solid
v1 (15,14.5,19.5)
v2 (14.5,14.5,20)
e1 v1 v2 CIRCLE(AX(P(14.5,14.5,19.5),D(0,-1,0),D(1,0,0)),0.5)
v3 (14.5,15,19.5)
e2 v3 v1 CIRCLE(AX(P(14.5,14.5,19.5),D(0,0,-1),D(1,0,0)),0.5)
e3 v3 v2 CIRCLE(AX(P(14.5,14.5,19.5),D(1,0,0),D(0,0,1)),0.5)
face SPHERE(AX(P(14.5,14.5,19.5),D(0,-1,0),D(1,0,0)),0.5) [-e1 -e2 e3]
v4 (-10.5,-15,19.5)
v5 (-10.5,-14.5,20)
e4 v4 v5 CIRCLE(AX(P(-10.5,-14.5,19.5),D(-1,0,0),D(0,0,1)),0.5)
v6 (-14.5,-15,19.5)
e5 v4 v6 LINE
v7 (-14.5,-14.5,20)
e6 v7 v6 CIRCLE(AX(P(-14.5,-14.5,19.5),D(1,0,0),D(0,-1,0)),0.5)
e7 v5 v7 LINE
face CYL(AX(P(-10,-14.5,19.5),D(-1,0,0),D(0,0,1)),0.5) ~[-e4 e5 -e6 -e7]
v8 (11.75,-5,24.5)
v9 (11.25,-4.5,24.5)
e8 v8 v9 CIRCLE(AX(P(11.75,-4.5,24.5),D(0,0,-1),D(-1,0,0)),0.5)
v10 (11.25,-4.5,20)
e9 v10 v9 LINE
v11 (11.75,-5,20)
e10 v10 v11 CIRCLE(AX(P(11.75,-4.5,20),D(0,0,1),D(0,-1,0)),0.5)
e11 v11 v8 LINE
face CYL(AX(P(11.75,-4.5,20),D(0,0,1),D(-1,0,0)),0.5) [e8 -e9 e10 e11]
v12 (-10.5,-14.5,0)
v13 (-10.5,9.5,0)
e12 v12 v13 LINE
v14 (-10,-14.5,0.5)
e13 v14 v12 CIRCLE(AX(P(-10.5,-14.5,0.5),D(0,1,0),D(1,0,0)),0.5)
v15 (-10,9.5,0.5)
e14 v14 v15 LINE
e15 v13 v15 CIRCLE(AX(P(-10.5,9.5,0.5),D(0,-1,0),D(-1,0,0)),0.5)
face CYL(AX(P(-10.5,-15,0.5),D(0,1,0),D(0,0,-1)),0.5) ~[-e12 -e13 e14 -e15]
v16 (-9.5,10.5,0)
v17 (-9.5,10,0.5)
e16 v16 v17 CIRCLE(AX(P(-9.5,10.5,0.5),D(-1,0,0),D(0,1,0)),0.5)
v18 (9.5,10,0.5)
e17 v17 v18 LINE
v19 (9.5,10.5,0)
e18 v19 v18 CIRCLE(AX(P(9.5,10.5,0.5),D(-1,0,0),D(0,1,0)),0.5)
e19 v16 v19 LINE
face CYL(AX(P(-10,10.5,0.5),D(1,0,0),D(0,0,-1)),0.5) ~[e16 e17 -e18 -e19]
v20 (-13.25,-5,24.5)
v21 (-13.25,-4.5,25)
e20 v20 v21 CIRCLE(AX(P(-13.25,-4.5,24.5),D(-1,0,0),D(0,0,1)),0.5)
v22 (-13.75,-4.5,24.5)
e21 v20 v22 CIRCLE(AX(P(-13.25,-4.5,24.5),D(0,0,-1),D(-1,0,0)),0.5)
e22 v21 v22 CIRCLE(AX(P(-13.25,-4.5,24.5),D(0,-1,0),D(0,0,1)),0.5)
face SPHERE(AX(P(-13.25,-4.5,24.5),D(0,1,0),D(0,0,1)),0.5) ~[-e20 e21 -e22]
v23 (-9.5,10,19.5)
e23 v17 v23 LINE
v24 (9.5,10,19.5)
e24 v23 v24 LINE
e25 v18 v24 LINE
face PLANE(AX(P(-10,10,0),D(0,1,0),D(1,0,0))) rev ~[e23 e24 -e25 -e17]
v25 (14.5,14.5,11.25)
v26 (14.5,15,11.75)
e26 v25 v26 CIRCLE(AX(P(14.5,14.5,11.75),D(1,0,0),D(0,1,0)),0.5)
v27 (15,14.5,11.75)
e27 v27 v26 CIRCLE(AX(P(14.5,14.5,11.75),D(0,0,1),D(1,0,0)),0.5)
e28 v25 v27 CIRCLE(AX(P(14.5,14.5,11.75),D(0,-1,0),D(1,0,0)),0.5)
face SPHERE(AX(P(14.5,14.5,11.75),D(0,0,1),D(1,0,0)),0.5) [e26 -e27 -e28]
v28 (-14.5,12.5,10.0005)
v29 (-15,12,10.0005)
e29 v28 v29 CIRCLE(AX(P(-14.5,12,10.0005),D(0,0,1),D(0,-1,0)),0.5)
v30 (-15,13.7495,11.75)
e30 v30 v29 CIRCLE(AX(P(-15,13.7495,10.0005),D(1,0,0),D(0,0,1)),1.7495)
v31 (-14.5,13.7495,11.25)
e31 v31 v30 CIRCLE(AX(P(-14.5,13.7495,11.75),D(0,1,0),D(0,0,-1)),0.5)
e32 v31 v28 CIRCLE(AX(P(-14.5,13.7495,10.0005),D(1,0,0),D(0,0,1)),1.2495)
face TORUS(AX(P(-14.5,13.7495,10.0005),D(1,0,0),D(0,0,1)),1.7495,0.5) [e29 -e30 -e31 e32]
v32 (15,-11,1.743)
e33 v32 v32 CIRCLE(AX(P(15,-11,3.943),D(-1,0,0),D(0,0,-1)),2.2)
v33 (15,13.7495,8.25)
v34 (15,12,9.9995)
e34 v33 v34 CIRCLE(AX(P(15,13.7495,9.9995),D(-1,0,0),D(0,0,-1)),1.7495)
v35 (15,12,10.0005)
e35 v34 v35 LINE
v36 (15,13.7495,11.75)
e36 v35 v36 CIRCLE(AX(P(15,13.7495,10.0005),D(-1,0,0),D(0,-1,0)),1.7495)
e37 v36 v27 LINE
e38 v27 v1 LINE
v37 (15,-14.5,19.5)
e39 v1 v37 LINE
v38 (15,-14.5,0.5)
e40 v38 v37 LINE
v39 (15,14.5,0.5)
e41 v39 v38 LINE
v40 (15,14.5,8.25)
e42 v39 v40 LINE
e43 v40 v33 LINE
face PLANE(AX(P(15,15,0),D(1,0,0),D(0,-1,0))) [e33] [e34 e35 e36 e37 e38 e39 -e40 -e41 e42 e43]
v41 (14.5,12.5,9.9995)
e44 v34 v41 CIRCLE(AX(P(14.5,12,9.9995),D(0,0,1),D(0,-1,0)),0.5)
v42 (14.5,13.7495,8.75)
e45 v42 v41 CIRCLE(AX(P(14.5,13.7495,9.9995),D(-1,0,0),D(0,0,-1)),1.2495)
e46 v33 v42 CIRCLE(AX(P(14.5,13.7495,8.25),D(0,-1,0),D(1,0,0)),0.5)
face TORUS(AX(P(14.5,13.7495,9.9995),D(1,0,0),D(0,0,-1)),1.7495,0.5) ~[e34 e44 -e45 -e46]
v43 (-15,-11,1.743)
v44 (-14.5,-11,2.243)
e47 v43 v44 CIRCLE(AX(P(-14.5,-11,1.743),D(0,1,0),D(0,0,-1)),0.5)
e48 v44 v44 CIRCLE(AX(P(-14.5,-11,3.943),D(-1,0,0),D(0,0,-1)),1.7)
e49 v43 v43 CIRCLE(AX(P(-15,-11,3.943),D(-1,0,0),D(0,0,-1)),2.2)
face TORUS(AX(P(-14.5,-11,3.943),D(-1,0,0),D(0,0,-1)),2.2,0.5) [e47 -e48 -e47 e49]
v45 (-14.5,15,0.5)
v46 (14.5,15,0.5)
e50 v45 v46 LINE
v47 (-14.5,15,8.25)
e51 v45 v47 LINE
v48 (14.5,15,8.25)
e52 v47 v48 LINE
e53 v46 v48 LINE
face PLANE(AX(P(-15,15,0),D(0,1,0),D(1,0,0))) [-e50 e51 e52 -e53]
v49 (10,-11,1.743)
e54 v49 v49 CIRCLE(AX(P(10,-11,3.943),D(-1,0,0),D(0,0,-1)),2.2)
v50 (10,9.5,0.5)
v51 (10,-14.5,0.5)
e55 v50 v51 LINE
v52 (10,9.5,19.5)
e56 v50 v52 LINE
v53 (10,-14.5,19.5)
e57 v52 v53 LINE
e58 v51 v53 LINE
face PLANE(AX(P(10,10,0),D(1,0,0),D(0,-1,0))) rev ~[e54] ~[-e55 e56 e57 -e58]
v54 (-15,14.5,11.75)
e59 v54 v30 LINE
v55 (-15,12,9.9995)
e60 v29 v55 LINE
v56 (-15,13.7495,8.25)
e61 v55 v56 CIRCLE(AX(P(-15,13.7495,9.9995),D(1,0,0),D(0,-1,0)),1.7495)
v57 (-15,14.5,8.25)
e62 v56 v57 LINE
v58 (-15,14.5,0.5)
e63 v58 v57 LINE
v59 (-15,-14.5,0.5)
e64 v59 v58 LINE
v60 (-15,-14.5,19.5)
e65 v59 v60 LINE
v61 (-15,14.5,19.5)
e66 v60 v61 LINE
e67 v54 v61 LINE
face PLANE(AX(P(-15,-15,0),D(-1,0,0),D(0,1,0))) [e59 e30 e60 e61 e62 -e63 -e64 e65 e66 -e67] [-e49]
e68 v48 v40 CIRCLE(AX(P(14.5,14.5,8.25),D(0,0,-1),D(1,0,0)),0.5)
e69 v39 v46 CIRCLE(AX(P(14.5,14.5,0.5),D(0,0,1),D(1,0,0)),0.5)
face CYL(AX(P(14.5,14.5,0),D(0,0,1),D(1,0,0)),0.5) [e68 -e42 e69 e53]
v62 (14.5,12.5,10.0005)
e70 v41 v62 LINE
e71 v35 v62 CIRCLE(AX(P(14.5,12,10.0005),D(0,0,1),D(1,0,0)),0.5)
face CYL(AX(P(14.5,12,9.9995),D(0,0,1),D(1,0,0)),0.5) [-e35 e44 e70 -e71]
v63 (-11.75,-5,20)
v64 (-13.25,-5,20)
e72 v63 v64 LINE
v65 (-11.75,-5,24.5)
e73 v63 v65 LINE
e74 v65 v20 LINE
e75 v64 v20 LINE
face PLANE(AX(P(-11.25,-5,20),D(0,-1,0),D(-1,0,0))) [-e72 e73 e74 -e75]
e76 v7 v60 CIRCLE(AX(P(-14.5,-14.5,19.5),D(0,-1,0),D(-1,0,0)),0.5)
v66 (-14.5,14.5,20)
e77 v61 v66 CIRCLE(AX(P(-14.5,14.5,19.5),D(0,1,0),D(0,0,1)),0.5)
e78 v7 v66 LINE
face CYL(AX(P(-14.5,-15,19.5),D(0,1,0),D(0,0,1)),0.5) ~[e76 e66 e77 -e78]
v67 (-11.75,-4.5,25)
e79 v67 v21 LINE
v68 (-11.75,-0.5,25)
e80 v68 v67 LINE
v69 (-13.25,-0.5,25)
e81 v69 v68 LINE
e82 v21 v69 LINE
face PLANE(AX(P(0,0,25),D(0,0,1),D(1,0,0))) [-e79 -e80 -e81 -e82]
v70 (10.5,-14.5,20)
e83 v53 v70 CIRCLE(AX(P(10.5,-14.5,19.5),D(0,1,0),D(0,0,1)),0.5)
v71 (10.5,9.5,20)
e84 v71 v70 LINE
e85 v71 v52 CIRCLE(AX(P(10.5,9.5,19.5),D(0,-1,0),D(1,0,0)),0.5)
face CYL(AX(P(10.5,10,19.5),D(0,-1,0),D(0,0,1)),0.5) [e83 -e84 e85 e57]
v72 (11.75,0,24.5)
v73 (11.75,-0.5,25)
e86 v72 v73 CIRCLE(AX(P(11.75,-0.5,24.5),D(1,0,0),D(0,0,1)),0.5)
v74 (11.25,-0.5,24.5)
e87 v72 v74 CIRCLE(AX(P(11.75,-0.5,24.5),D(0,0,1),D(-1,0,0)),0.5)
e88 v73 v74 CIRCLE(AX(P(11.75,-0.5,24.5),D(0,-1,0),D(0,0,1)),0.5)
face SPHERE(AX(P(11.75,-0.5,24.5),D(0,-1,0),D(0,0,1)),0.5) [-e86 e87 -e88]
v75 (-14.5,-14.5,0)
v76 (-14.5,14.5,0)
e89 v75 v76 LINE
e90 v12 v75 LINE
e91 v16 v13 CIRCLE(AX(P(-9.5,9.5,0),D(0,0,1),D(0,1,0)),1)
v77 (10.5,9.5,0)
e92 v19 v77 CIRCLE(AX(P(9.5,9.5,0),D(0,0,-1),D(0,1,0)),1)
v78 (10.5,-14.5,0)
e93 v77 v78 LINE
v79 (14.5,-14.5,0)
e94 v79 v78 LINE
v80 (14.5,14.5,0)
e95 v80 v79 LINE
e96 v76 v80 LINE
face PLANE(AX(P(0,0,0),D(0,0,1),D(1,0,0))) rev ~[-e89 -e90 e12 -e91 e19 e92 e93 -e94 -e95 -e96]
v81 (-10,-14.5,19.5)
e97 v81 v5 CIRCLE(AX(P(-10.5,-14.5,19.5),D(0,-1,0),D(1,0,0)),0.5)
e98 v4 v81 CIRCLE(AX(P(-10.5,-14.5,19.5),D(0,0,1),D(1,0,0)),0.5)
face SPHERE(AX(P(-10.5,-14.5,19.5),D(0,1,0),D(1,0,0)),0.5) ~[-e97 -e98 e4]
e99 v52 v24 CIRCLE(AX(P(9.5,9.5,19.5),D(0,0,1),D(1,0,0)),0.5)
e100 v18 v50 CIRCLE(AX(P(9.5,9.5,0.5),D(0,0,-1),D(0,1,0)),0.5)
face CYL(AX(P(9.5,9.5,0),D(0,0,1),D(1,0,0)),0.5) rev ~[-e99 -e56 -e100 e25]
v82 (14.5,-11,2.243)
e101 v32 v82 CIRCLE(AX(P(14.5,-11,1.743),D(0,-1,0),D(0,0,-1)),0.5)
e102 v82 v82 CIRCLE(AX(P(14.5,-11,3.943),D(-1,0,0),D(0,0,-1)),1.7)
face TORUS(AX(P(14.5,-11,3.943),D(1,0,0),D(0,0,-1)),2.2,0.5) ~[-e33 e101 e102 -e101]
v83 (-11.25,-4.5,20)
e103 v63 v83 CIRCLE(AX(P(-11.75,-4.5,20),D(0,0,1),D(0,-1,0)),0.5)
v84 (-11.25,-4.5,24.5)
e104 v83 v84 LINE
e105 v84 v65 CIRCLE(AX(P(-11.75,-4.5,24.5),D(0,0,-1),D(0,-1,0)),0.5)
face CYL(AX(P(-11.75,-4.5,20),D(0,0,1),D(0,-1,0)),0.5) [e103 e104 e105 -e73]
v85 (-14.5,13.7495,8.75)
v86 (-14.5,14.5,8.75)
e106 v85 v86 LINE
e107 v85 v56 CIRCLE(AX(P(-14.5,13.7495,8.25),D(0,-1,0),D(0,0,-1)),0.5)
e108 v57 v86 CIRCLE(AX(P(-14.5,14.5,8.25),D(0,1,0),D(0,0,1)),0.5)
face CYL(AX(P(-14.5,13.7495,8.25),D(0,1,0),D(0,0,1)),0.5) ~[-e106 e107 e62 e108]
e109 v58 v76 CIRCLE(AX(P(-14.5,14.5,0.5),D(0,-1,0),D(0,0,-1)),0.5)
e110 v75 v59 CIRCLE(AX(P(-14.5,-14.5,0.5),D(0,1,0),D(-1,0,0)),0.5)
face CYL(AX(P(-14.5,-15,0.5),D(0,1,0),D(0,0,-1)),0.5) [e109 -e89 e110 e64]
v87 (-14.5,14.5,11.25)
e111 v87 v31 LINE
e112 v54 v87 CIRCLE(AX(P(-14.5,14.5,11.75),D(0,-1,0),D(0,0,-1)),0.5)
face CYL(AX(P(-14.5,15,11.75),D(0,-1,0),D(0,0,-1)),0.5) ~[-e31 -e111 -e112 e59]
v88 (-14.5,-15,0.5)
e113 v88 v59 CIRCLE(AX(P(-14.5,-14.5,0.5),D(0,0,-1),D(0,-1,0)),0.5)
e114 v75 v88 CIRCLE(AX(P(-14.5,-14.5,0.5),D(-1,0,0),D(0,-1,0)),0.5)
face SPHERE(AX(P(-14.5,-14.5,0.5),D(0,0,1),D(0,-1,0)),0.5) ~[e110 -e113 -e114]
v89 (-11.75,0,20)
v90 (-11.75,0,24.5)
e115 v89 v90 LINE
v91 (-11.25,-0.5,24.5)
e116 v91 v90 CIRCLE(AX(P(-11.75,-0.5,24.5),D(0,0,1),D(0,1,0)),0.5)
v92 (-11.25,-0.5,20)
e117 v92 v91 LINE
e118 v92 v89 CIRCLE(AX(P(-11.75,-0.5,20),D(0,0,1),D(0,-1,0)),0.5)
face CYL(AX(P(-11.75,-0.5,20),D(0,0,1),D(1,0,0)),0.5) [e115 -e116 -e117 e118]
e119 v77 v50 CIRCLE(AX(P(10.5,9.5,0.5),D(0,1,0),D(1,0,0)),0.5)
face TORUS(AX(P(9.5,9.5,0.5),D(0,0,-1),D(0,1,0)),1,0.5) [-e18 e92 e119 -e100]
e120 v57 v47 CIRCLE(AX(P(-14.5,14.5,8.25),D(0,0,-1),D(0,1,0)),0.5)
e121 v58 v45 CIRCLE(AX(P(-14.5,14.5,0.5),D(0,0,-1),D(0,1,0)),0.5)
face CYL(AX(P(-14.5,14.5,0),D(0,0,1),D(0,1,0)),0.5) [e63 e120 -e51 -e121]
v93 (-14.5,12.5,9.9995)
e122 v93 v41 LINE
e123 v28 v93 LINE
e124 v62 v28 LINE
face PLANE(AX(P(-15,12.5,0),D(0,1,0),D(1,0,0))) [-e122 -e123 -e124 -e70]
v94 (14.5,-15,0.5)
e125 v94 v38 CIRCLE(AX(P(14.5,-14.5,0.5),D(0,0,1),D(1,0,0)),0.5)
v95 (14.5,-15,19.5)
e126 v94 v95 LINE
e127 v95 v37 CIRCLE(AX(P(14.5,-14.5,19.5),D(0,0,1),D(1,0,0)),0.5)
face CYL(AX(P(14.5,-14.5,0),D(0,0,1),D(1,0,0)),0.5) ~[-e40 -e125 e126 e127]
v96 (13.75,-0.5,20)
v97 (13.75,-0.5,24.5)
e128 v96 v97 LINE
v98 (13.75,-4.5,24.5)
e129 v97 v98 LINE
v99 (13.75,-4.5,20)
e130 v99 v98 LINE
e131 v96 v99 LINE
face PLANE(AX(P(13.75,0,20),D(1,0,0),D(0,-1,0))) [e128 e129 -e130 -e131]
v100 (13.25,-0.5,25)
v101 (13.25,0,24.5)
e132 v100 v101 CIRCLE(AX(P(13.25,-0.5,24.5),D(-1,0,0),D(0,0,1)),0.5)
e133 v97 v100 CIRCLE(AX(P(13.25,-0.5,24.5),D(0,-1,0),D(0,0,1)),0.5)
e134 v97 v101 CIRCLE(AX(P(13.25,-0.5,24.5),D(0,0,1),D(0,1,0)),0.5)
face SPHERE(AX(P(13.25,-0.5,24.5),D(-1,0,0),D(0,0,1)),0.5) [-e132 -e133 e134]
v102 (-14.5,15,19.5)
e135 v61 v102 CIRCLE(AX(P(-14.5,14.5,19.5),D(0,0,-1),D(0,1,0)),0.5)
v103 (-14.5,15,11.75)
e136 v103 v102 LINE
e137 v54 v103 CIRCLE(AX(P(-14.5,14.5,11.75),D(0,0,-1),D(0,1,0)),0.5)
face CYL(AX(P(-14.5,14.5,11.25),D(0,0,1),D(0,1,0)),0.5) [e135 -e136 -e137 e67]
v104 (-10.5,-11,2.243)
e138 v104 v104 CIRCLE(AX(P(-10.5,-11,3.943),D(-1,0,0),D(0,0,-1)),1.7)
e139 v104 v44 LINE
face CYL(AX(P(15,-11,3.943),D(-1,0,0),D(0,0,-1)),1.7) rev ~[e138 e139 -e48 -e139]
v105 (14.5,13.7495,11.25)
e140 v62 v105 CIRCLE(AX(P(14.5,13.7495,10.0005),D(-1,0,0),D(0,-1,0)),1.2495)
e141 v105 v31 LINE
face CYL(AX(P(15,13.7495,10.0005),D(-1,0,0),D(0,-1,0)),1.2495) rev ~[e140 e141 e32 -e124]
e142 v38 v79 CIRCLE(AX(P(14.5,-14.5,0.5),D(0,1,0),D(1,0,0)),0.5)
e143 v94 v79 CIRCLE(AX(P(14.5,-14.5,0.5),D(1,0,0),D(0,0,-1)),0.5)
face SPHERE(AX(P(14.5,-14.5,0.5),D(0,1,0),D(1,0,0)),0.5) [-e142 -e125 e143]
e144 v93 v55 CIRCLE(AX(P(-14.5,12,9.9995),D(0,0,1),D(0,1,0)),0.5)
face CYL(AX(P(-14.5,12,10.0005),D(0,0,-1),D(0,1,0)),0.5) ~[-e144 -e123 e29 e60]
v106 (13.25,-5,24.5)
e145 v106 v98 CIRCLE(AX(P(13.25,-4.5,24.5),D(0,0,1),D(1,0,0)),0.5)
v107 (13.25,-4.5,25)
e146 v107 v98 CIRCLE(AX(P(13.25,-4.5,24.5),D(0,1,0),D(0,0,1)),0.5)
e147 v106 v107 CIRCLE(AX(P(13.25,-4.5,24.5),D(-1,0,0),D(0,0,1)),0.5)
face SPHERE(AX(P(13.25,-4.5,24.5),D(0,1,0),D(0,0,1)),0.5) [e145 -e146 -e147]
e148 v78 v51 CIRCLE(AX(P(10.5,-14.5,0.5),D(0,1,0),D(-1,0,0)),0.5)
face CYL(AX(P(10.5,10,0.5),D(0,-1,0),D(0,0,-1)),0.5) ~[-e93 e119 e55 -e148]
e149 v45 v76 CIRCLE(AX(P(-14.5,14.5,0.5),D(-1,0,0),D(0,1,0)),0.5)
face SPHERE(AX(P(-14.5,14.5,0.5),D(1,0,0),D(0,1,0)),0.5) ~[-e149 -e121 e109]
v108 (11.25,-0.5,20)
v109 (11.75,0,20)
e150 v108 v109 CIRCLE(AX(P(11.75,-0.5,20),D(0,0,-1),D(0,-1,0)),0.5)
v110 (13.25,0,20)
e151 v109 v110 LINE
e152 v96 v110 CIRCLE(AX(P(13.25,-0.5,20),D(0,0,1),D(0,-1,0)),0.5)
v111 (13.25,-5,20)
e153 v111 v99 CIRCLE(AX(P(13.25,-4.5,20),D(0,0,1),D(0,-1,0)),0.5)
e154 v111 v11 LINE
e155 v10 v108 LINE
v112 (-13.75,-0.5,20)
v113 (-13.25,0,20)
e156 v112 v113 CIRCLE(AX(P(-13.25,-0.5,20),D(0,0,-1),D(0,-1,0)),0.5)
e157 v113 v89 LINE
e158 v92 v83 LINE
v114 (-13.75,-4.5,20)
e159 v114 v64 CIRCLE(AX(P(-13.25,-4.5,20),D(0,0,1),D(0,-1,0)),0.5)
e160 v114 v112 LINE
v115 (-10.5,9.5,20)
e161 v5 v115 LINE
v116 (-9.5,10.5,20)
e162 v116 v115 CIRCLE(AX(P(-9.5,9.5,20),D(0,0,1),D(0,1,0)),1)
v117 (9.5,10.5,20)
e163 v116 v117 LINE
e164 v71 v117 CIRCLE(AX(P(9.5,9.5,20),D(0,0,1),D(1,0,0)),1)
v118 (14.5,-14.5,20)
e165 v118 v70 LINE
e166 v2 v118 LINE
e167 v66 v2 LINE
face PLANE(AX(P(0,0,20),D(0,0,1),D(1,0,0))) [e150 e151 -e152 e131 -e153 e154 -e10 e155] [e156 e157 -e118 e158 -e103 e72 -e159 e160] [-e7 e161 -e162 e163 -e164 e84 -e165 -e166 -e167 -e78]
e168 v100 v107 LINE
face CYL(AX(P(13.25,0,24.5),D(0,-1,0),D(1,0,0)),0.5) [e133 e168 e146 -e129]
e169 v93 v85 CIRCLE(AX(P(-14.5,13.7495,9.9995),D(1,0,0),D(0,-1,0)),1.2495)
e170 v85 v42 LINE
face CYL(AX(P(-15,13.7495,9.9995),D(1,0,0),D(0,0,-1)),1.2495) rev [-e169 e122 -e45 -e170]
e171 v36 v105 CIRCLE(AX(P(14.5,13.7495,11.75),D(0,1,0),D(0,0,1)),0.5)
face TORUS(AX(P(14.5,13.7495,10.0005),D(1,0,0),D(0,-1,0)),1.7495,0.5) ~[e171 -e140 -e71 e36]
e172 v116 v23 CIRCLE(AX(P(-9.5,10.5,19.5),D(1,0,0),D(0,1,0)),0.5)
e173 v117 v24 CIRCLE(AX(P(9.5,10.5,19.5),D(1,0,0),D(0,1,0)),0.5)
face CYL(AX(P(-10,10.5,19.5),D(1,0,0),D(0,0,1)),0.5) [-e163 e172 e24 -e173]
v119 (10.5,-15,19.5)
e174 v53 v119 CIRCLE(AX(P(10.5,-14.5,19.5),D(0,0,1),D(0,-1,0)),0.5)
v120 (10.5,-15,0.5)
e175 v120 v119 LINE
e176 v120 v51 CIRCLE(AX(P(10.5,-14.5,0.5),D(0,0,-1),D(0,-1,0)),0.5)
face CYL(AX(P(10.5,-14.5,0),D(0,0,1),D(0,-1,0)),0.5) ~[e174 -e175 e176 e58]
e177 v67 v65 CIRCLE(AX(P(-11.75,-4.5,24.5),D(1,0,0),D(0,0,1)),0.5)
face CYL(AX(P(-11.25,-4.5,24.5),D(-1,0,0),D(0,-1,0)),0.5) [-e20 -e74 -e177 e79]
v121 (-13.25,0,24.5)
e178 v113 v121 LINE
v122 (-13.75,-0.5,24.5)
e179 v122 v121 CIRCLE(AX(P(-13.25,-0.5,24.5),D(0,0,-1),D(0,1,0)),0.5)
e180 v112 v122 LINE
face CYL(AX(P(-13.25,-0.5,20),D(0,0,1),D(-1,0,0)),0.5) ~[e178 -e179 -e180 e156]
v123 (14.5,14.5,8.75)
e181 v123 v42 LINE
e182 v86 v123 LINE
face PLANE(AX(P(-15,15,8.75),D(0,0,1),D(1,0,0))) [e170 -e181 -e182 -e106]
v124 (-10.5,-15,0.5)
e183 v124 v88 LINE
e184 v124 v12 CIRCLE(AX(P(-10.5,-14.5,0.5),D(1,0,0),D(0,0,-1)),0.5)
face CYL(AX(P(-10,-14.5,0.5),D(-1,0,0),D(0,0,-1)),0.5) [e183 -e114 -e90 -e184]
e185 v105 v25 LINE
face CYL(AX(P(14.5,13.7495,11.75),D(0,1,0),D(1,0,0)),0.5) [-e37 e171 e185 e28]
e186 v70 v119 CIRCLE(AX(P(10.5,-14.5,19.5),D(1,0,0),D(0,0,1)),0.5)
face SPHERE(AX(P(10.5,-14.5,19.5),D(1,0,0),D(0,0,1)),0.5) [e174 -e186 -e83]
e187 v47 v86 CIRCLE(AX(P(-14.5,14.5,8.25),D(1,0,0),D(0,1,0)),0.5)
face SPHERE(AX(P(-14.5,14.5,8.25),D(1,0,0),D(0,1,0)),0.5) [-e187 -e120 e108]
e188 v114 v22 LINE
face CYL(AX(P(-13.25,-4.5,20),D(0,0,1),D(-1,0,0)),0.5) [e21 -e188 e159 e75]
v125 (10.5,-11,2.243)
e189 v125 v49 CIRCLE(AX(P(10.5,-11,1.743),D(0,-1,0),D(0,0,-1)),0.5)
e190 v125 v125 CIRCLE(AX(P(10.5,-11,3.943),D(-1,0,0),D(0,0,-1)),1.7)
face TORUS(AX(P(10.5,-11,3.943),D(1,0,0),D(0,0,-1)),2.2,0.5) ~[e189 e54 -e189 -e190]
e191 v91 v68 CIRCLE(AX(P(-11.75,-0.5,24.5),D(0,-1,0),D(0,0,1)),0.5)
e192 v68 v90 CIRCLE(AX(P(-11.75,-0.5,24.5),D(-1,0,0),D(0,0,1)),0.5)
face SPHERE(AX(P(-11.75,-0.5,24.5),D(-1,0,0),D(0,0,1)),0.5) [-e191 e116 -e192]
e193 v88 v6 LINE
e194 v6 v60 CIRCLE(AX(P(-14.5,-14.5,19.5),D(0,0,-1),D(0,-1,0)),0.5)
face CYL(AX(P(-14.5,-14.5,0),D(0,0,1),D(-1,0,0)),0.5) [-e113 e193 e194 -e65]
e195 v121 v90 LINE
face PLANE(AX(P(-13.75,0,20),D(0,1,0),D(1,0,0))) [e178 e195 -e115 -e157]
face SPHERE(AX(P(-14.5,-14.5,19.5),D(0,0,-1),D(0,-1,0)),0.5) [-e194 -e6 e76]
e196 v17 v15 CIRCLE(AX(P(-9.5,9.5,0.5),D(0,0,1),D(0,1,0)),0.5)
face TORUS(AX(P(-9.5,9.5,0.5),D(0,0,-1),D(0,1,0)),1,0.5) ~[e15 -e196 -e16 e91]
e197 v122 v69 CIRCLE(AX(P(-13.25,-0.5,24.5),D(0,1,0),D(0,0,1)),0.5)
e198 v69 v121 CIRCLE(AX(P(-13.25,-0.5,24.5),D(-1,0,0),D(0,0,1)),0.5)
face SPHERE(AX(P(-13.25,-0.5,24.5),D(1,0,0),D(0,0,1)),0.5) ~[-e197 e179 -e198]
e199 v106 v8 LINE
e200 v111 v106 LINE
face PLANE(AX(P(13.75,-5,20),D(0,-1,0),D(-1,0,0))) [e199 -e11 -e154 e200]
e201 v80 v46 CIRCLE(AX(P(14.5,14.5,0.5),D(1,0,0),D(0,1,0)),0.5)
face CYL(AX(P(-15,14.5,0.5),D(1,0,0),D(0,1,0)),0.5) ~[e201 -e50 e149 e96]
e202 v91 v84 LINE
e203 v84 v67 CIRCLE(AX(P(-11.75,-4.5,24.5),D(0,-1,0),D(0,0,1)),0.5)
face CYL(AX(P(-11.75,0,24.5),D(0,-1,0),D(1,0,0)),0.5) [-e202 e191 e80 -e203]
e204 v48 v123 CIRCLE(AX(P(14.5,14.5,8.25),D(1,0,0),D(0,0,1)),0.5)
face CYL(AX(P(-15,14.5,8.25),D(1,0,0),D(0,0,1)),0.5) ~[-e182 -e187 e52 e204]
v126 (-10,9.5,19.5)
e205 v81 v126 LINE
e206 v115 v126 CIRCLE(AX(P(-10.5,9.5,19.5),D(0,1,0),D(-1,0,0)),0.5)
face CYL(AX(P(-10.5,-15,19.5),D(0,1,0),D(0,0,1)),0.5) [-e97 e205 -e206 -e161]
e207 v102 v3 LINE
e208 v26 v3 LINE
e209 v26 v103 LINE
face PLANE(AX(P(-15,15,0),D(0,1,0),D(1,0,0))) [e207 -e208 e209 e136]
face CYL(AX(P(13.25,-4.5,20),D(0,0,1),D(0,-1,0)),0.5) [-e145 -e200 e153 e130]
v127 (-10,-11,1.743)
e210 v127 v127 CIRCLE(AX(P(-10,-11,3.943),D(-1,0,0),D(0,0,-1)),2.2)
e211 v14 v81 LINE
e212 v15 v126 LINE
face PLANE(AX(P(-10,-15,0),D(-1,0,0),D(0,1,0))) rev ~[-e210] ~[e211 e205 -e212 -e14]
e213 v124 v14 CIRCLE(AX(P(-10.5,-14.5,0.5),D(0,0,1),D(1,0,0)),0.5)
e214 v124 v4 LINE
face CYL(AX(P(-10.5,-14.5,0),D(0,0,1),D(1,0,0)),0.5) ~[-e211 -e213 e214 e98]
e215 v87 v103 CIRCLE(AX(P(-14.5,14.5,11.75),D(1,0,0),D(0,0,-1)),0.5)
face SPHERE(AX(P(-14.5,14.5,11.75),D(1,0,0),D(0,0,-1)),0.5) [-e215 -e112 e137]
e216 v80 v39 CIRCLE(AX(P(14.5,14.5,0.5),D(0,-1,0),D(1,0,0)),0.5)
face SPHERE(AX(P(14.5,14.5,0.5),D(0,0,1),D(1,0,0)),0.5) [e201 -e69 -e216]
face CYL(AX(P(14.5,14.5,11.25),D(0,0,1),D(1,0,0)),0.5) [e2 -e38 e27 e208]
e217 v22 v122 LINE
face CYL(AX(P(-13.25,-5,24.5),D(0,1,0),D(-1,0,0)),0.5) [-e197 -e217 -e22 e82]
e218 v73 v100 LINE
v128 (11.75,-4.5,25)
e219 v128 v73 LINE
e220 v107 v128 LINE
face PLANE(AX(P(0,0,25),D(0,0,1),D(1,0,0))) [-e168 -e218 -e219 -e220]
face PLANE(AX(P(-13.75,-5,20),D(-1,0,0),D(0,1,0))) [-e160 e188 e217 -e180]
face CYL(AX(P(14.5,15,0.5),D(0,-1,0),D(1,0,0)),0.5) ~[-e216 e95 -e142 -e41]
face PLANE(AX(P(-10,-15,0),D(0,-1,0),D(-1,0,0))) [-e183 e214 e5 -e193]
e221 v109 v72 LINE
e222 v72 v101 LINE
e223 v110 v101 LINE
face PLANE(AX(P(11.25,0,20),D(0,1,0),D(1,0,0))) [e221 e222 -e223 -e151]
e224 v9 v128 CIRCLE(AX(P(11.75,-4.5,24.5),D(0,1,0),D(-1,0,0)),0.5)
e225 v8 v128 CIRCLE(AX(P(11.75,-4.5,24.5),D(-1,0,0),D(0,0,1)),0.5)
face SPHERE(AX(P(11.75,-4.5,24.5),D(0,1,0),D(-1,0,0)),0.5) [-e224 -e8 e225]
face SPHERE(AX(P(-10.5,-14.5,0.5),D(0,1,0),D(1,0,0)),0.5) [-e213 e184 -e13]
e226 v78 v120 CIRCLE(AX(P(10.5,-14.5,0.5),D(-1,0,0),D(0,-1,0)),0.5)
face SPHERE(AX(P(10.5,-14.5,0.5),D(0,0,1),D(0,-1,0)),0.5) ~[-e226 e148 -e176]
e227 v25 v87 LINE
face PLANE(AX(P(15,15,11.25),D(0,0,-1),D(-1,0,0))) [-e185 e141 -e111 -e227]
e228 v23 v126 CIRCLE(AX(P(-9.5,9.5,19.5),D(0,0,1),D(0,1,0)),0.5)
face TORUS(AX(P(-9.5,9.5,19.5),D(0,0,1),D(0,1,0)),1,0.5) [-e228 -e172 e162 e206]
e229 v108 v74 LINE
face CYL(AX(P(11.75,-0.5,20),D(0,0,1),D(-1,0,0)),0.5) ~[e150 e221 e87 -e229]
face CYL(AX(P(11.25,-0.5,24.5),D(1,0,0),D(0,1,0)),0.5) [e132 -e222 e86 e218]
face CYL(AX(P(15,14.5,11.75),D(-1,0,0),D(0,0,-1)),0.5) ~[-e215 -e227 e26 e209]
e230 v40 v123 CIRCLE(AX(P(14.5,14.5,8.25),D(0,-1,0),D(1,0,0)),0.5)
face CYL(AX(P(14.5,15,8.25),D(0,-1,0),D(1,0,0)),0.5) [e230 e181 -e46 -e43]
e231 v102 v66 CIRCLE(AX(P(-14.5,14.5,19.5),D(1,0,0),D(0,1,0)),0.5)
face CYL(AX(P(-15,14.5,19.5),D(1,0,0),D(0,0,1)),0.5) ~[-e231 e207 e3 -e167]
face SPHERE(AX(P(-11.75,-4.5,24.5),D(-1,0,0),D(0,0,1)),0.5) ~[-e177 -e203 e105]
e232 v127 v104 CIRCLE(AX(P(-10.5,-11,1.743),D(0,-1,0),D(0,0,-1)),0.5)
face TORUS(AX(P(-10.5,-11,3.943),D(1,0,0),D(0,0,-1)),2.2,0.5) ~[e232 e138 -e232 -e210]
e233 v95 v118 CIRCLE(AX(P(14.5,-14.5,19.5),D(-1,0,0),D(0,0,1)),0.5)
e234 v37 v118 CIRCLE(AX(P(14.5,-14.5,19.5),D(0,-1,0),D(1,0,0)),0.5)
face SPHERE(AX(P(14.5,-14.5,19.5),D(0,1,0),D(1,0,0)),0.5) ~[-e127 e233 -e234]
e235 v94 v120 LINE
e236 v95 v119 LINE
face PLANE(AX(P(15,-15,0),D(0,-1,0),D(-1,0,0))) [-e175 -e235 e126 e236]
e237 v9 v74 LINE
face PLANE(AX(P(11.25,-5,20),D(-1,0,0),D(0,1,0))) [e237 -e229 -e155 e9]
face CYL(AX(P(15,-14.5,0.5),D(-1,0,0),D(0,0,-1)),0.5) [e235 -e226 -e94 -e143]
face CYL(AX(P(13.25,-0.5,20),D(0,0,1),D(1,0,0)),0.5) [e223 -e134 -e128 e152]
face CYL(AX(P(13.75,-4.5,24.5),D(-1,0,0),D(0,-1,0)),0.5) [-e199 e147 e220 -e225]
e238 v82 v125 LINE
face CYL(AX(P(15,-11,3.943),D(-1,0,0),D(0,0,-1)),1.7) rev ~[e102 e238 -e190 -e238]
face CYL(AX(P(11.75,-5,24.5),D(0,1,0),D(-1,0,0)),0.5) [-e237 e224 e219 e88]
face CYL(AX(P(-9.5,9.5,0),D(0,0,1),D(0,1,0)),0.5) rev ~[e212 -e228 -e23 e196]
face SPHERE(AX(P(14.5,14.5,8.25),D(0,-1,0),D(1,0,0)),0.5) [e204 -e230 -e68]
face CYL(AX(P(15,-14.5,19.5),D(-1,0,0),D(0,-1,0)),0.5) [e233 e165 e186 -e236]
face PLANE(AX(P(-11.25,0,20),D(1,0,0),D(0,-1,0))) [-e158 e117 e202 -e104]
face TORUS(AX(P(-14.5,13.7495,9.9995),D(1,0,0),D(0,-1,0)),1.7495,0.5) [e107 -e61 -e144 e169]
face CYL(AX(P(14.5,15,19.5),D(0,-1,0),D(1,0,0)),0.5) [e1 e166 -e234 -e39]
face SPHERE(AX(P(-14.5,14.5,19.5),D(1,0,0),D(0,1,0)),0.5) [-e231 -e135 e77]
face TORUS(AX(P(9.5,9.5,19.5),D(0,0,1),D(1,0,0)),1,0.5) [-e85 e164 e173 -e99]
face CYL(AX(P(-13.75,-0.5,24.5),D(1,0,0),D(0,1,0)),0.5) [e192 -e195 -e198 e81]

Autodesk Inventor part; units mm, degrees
ref_plane "YZ Plane" through (0, 0, 0) normal (1, 0, 0) x (0, 1, 0)
ref_plane "XZ Plane" through (0, 0, 0) normal (0, 1, 0) x (-1, 0, 0)
ref_plane "XY Plane" through (0, 0, 0) normal (0, 0, 1) x (1, 0, 0)
sketch "Sketch1" plane through (0, 0, 0) normal (0, 0, 1) x (1, 0, 0)
  line L0 (-15, 15) -> (15, 15)
  line L1 (15, 15) -> (15, -15)
  line L2 (-15, -15) -> (-15, 15)
  line L3 (-10, 10) -> (10, 10)
  line L4 (10, 10) -> (10, -15)
  line L5 (-10, -15) -> (-10, 10)
  line L6 (15, -15) -> (10, -15)
  line L7 (-10, -15) -> (-15, -15)
  point P0 (0, 0)
  dimension "d3" = 30
  dimension "d4" = 15
  dimension "d5" = 15
  dimension "d6" = 5
  dimension "d7" = 5
extrude "Extrusion1" add sketch "Sketch1" along normal blind 20
sketch "Sketch2" plane through (0, 0, 20) normal (0, 0, 1) x (1, 0, 0)
  line L0 (-15, -15) -> (-15, 15) projected
  line L1 (10, -15) -> (10, 10) projected
  line L2 (-15, 15) -> (15, 15) projected
  line L3 (-13.75, 0) -> (-11.25, 0)
  line L4 (-11.25, 0) -> (-11.25, -5)
  line L5 (-11.25, -5) -> (-13.75, -5)
  line L6 (-13.75, -5) -> (-13.75, 0)
  line L7 (11.25, 0) -> (13.75, 0)
  line L8 (13.75, 0) -> (13.75, -5)
  line L9 (13.75, -5) -> (11.25, -5)
  line L10 (11.25, -5) -> (11.25, 0)
  point P0 (0, 0)
  dimension "d44" = 1.25
  dimension "d45" = 1.25
  dimension "d46" = 2.5
  dimension "d47" = 15
  dimension "d48" = 5
extrude "Extrusion2" add sketch "Sketch2" along normal blind 5
sketch "Sketch3" plane through (-15, 15, 0) normal (0, 1, 0) x (1, 0, 0)
  line L0 (0, -20) -> (30, -20) projected
  line L1 (30, 0) -> (30, -20) projected
  line L2 (0, 0) -> (0, -20) projected
  line L3 (0, -8.75) -> (30, -8.75)
  line L4 (30, -8.75) -> (30, -11.25)
  line L5 (30, -11.25) -> (0, -11.25)
  line L6 (0, -11.25) -> (0, -8.75) construction
  line L7 (15, 0) -> (15, -8.75) construction
  line L8 (15, -11.25) -> (15, -20) construction
  line L9 (0, -8.75) -> (0, -11.25)
  dimension "d16" = 2.5
extrude "Extrusion3" cut sketch "Sketch3" against normal blind 2.5 contours L2 L3 L1 L5
hole "Hole2" at (15, -11, 3.943) direction (-1, 0, 0) diameter 3.4 end through all clearance for "Flat Head Machine Screw" size "M3" standard "Ansi Metric M Profile"
fillet "Fillet6" radius 1.25 2 edges at (0, 12.5, 11.25) (0, 12.5, 8.75)
fillet "Fillet7" radius 0.5 54 edges at (15, 0, 20) (15, 15, 15.625) (15, 14.3747, 8.75) (15, 14.3747, 11.25) (15, 12.866, 10.884) (15, 15, 4.375) (15, 0, 0) (15, -15, 10) (15, -11, 5.643) (0, 15, 20) (0, 15, 11.25) (0, 15, 8.75) (0, 15, 0) (-15, 15, 4.375) (-15, 14.3747, 11.25) (-15, 14.3747, 8.75) (-15, 12.866, 10.884) (-15, 15, 15.625) (12.5, -15, 20) (10, -2.5, 20) (10, -15, 10) (12.5, -15, 0) (10, -2.5, 0) (10, -11, 5.643) (0, 10, 20) (-10, -2.5, 20) (-10, 10, 10) (10, 10, 10) (0, 10, 0) (-10, -2.5, 0) (-10, -11, 5.643) (-10, -15, 10) (-15, -15, 10) (-12.5, -15, 0) (-15, 0, 0) (-15, -11, 5.643) (-12.5, -15, 20) (-15, 0, 20) (-12.5, 0, 25) (-13.75, -2.5, 25) (-12.5, -5, 25) (-11.25, -2.5, 25) (-11.25, -5, 22.5) (-13.75, -5, 22.5) (-13.75, 0, 22.5) (-11.25, 0, 22.5) (11.25, -2.5, 25) (12.5, 0, 25) (13.75, -2.5, 25) (13.75, 0, 22.5) (11.25, 0, 22.5) (11.25, -5, 22.5) (12.5, -5, 25) (13.75, -5, 22.5)
equation "\"d4\" = 0.5 * d3"
equation "\"d5\" = d4"
equation "\"d7\" = d6"
properties part number "Tension_Housing" material "ABS Plastic"
